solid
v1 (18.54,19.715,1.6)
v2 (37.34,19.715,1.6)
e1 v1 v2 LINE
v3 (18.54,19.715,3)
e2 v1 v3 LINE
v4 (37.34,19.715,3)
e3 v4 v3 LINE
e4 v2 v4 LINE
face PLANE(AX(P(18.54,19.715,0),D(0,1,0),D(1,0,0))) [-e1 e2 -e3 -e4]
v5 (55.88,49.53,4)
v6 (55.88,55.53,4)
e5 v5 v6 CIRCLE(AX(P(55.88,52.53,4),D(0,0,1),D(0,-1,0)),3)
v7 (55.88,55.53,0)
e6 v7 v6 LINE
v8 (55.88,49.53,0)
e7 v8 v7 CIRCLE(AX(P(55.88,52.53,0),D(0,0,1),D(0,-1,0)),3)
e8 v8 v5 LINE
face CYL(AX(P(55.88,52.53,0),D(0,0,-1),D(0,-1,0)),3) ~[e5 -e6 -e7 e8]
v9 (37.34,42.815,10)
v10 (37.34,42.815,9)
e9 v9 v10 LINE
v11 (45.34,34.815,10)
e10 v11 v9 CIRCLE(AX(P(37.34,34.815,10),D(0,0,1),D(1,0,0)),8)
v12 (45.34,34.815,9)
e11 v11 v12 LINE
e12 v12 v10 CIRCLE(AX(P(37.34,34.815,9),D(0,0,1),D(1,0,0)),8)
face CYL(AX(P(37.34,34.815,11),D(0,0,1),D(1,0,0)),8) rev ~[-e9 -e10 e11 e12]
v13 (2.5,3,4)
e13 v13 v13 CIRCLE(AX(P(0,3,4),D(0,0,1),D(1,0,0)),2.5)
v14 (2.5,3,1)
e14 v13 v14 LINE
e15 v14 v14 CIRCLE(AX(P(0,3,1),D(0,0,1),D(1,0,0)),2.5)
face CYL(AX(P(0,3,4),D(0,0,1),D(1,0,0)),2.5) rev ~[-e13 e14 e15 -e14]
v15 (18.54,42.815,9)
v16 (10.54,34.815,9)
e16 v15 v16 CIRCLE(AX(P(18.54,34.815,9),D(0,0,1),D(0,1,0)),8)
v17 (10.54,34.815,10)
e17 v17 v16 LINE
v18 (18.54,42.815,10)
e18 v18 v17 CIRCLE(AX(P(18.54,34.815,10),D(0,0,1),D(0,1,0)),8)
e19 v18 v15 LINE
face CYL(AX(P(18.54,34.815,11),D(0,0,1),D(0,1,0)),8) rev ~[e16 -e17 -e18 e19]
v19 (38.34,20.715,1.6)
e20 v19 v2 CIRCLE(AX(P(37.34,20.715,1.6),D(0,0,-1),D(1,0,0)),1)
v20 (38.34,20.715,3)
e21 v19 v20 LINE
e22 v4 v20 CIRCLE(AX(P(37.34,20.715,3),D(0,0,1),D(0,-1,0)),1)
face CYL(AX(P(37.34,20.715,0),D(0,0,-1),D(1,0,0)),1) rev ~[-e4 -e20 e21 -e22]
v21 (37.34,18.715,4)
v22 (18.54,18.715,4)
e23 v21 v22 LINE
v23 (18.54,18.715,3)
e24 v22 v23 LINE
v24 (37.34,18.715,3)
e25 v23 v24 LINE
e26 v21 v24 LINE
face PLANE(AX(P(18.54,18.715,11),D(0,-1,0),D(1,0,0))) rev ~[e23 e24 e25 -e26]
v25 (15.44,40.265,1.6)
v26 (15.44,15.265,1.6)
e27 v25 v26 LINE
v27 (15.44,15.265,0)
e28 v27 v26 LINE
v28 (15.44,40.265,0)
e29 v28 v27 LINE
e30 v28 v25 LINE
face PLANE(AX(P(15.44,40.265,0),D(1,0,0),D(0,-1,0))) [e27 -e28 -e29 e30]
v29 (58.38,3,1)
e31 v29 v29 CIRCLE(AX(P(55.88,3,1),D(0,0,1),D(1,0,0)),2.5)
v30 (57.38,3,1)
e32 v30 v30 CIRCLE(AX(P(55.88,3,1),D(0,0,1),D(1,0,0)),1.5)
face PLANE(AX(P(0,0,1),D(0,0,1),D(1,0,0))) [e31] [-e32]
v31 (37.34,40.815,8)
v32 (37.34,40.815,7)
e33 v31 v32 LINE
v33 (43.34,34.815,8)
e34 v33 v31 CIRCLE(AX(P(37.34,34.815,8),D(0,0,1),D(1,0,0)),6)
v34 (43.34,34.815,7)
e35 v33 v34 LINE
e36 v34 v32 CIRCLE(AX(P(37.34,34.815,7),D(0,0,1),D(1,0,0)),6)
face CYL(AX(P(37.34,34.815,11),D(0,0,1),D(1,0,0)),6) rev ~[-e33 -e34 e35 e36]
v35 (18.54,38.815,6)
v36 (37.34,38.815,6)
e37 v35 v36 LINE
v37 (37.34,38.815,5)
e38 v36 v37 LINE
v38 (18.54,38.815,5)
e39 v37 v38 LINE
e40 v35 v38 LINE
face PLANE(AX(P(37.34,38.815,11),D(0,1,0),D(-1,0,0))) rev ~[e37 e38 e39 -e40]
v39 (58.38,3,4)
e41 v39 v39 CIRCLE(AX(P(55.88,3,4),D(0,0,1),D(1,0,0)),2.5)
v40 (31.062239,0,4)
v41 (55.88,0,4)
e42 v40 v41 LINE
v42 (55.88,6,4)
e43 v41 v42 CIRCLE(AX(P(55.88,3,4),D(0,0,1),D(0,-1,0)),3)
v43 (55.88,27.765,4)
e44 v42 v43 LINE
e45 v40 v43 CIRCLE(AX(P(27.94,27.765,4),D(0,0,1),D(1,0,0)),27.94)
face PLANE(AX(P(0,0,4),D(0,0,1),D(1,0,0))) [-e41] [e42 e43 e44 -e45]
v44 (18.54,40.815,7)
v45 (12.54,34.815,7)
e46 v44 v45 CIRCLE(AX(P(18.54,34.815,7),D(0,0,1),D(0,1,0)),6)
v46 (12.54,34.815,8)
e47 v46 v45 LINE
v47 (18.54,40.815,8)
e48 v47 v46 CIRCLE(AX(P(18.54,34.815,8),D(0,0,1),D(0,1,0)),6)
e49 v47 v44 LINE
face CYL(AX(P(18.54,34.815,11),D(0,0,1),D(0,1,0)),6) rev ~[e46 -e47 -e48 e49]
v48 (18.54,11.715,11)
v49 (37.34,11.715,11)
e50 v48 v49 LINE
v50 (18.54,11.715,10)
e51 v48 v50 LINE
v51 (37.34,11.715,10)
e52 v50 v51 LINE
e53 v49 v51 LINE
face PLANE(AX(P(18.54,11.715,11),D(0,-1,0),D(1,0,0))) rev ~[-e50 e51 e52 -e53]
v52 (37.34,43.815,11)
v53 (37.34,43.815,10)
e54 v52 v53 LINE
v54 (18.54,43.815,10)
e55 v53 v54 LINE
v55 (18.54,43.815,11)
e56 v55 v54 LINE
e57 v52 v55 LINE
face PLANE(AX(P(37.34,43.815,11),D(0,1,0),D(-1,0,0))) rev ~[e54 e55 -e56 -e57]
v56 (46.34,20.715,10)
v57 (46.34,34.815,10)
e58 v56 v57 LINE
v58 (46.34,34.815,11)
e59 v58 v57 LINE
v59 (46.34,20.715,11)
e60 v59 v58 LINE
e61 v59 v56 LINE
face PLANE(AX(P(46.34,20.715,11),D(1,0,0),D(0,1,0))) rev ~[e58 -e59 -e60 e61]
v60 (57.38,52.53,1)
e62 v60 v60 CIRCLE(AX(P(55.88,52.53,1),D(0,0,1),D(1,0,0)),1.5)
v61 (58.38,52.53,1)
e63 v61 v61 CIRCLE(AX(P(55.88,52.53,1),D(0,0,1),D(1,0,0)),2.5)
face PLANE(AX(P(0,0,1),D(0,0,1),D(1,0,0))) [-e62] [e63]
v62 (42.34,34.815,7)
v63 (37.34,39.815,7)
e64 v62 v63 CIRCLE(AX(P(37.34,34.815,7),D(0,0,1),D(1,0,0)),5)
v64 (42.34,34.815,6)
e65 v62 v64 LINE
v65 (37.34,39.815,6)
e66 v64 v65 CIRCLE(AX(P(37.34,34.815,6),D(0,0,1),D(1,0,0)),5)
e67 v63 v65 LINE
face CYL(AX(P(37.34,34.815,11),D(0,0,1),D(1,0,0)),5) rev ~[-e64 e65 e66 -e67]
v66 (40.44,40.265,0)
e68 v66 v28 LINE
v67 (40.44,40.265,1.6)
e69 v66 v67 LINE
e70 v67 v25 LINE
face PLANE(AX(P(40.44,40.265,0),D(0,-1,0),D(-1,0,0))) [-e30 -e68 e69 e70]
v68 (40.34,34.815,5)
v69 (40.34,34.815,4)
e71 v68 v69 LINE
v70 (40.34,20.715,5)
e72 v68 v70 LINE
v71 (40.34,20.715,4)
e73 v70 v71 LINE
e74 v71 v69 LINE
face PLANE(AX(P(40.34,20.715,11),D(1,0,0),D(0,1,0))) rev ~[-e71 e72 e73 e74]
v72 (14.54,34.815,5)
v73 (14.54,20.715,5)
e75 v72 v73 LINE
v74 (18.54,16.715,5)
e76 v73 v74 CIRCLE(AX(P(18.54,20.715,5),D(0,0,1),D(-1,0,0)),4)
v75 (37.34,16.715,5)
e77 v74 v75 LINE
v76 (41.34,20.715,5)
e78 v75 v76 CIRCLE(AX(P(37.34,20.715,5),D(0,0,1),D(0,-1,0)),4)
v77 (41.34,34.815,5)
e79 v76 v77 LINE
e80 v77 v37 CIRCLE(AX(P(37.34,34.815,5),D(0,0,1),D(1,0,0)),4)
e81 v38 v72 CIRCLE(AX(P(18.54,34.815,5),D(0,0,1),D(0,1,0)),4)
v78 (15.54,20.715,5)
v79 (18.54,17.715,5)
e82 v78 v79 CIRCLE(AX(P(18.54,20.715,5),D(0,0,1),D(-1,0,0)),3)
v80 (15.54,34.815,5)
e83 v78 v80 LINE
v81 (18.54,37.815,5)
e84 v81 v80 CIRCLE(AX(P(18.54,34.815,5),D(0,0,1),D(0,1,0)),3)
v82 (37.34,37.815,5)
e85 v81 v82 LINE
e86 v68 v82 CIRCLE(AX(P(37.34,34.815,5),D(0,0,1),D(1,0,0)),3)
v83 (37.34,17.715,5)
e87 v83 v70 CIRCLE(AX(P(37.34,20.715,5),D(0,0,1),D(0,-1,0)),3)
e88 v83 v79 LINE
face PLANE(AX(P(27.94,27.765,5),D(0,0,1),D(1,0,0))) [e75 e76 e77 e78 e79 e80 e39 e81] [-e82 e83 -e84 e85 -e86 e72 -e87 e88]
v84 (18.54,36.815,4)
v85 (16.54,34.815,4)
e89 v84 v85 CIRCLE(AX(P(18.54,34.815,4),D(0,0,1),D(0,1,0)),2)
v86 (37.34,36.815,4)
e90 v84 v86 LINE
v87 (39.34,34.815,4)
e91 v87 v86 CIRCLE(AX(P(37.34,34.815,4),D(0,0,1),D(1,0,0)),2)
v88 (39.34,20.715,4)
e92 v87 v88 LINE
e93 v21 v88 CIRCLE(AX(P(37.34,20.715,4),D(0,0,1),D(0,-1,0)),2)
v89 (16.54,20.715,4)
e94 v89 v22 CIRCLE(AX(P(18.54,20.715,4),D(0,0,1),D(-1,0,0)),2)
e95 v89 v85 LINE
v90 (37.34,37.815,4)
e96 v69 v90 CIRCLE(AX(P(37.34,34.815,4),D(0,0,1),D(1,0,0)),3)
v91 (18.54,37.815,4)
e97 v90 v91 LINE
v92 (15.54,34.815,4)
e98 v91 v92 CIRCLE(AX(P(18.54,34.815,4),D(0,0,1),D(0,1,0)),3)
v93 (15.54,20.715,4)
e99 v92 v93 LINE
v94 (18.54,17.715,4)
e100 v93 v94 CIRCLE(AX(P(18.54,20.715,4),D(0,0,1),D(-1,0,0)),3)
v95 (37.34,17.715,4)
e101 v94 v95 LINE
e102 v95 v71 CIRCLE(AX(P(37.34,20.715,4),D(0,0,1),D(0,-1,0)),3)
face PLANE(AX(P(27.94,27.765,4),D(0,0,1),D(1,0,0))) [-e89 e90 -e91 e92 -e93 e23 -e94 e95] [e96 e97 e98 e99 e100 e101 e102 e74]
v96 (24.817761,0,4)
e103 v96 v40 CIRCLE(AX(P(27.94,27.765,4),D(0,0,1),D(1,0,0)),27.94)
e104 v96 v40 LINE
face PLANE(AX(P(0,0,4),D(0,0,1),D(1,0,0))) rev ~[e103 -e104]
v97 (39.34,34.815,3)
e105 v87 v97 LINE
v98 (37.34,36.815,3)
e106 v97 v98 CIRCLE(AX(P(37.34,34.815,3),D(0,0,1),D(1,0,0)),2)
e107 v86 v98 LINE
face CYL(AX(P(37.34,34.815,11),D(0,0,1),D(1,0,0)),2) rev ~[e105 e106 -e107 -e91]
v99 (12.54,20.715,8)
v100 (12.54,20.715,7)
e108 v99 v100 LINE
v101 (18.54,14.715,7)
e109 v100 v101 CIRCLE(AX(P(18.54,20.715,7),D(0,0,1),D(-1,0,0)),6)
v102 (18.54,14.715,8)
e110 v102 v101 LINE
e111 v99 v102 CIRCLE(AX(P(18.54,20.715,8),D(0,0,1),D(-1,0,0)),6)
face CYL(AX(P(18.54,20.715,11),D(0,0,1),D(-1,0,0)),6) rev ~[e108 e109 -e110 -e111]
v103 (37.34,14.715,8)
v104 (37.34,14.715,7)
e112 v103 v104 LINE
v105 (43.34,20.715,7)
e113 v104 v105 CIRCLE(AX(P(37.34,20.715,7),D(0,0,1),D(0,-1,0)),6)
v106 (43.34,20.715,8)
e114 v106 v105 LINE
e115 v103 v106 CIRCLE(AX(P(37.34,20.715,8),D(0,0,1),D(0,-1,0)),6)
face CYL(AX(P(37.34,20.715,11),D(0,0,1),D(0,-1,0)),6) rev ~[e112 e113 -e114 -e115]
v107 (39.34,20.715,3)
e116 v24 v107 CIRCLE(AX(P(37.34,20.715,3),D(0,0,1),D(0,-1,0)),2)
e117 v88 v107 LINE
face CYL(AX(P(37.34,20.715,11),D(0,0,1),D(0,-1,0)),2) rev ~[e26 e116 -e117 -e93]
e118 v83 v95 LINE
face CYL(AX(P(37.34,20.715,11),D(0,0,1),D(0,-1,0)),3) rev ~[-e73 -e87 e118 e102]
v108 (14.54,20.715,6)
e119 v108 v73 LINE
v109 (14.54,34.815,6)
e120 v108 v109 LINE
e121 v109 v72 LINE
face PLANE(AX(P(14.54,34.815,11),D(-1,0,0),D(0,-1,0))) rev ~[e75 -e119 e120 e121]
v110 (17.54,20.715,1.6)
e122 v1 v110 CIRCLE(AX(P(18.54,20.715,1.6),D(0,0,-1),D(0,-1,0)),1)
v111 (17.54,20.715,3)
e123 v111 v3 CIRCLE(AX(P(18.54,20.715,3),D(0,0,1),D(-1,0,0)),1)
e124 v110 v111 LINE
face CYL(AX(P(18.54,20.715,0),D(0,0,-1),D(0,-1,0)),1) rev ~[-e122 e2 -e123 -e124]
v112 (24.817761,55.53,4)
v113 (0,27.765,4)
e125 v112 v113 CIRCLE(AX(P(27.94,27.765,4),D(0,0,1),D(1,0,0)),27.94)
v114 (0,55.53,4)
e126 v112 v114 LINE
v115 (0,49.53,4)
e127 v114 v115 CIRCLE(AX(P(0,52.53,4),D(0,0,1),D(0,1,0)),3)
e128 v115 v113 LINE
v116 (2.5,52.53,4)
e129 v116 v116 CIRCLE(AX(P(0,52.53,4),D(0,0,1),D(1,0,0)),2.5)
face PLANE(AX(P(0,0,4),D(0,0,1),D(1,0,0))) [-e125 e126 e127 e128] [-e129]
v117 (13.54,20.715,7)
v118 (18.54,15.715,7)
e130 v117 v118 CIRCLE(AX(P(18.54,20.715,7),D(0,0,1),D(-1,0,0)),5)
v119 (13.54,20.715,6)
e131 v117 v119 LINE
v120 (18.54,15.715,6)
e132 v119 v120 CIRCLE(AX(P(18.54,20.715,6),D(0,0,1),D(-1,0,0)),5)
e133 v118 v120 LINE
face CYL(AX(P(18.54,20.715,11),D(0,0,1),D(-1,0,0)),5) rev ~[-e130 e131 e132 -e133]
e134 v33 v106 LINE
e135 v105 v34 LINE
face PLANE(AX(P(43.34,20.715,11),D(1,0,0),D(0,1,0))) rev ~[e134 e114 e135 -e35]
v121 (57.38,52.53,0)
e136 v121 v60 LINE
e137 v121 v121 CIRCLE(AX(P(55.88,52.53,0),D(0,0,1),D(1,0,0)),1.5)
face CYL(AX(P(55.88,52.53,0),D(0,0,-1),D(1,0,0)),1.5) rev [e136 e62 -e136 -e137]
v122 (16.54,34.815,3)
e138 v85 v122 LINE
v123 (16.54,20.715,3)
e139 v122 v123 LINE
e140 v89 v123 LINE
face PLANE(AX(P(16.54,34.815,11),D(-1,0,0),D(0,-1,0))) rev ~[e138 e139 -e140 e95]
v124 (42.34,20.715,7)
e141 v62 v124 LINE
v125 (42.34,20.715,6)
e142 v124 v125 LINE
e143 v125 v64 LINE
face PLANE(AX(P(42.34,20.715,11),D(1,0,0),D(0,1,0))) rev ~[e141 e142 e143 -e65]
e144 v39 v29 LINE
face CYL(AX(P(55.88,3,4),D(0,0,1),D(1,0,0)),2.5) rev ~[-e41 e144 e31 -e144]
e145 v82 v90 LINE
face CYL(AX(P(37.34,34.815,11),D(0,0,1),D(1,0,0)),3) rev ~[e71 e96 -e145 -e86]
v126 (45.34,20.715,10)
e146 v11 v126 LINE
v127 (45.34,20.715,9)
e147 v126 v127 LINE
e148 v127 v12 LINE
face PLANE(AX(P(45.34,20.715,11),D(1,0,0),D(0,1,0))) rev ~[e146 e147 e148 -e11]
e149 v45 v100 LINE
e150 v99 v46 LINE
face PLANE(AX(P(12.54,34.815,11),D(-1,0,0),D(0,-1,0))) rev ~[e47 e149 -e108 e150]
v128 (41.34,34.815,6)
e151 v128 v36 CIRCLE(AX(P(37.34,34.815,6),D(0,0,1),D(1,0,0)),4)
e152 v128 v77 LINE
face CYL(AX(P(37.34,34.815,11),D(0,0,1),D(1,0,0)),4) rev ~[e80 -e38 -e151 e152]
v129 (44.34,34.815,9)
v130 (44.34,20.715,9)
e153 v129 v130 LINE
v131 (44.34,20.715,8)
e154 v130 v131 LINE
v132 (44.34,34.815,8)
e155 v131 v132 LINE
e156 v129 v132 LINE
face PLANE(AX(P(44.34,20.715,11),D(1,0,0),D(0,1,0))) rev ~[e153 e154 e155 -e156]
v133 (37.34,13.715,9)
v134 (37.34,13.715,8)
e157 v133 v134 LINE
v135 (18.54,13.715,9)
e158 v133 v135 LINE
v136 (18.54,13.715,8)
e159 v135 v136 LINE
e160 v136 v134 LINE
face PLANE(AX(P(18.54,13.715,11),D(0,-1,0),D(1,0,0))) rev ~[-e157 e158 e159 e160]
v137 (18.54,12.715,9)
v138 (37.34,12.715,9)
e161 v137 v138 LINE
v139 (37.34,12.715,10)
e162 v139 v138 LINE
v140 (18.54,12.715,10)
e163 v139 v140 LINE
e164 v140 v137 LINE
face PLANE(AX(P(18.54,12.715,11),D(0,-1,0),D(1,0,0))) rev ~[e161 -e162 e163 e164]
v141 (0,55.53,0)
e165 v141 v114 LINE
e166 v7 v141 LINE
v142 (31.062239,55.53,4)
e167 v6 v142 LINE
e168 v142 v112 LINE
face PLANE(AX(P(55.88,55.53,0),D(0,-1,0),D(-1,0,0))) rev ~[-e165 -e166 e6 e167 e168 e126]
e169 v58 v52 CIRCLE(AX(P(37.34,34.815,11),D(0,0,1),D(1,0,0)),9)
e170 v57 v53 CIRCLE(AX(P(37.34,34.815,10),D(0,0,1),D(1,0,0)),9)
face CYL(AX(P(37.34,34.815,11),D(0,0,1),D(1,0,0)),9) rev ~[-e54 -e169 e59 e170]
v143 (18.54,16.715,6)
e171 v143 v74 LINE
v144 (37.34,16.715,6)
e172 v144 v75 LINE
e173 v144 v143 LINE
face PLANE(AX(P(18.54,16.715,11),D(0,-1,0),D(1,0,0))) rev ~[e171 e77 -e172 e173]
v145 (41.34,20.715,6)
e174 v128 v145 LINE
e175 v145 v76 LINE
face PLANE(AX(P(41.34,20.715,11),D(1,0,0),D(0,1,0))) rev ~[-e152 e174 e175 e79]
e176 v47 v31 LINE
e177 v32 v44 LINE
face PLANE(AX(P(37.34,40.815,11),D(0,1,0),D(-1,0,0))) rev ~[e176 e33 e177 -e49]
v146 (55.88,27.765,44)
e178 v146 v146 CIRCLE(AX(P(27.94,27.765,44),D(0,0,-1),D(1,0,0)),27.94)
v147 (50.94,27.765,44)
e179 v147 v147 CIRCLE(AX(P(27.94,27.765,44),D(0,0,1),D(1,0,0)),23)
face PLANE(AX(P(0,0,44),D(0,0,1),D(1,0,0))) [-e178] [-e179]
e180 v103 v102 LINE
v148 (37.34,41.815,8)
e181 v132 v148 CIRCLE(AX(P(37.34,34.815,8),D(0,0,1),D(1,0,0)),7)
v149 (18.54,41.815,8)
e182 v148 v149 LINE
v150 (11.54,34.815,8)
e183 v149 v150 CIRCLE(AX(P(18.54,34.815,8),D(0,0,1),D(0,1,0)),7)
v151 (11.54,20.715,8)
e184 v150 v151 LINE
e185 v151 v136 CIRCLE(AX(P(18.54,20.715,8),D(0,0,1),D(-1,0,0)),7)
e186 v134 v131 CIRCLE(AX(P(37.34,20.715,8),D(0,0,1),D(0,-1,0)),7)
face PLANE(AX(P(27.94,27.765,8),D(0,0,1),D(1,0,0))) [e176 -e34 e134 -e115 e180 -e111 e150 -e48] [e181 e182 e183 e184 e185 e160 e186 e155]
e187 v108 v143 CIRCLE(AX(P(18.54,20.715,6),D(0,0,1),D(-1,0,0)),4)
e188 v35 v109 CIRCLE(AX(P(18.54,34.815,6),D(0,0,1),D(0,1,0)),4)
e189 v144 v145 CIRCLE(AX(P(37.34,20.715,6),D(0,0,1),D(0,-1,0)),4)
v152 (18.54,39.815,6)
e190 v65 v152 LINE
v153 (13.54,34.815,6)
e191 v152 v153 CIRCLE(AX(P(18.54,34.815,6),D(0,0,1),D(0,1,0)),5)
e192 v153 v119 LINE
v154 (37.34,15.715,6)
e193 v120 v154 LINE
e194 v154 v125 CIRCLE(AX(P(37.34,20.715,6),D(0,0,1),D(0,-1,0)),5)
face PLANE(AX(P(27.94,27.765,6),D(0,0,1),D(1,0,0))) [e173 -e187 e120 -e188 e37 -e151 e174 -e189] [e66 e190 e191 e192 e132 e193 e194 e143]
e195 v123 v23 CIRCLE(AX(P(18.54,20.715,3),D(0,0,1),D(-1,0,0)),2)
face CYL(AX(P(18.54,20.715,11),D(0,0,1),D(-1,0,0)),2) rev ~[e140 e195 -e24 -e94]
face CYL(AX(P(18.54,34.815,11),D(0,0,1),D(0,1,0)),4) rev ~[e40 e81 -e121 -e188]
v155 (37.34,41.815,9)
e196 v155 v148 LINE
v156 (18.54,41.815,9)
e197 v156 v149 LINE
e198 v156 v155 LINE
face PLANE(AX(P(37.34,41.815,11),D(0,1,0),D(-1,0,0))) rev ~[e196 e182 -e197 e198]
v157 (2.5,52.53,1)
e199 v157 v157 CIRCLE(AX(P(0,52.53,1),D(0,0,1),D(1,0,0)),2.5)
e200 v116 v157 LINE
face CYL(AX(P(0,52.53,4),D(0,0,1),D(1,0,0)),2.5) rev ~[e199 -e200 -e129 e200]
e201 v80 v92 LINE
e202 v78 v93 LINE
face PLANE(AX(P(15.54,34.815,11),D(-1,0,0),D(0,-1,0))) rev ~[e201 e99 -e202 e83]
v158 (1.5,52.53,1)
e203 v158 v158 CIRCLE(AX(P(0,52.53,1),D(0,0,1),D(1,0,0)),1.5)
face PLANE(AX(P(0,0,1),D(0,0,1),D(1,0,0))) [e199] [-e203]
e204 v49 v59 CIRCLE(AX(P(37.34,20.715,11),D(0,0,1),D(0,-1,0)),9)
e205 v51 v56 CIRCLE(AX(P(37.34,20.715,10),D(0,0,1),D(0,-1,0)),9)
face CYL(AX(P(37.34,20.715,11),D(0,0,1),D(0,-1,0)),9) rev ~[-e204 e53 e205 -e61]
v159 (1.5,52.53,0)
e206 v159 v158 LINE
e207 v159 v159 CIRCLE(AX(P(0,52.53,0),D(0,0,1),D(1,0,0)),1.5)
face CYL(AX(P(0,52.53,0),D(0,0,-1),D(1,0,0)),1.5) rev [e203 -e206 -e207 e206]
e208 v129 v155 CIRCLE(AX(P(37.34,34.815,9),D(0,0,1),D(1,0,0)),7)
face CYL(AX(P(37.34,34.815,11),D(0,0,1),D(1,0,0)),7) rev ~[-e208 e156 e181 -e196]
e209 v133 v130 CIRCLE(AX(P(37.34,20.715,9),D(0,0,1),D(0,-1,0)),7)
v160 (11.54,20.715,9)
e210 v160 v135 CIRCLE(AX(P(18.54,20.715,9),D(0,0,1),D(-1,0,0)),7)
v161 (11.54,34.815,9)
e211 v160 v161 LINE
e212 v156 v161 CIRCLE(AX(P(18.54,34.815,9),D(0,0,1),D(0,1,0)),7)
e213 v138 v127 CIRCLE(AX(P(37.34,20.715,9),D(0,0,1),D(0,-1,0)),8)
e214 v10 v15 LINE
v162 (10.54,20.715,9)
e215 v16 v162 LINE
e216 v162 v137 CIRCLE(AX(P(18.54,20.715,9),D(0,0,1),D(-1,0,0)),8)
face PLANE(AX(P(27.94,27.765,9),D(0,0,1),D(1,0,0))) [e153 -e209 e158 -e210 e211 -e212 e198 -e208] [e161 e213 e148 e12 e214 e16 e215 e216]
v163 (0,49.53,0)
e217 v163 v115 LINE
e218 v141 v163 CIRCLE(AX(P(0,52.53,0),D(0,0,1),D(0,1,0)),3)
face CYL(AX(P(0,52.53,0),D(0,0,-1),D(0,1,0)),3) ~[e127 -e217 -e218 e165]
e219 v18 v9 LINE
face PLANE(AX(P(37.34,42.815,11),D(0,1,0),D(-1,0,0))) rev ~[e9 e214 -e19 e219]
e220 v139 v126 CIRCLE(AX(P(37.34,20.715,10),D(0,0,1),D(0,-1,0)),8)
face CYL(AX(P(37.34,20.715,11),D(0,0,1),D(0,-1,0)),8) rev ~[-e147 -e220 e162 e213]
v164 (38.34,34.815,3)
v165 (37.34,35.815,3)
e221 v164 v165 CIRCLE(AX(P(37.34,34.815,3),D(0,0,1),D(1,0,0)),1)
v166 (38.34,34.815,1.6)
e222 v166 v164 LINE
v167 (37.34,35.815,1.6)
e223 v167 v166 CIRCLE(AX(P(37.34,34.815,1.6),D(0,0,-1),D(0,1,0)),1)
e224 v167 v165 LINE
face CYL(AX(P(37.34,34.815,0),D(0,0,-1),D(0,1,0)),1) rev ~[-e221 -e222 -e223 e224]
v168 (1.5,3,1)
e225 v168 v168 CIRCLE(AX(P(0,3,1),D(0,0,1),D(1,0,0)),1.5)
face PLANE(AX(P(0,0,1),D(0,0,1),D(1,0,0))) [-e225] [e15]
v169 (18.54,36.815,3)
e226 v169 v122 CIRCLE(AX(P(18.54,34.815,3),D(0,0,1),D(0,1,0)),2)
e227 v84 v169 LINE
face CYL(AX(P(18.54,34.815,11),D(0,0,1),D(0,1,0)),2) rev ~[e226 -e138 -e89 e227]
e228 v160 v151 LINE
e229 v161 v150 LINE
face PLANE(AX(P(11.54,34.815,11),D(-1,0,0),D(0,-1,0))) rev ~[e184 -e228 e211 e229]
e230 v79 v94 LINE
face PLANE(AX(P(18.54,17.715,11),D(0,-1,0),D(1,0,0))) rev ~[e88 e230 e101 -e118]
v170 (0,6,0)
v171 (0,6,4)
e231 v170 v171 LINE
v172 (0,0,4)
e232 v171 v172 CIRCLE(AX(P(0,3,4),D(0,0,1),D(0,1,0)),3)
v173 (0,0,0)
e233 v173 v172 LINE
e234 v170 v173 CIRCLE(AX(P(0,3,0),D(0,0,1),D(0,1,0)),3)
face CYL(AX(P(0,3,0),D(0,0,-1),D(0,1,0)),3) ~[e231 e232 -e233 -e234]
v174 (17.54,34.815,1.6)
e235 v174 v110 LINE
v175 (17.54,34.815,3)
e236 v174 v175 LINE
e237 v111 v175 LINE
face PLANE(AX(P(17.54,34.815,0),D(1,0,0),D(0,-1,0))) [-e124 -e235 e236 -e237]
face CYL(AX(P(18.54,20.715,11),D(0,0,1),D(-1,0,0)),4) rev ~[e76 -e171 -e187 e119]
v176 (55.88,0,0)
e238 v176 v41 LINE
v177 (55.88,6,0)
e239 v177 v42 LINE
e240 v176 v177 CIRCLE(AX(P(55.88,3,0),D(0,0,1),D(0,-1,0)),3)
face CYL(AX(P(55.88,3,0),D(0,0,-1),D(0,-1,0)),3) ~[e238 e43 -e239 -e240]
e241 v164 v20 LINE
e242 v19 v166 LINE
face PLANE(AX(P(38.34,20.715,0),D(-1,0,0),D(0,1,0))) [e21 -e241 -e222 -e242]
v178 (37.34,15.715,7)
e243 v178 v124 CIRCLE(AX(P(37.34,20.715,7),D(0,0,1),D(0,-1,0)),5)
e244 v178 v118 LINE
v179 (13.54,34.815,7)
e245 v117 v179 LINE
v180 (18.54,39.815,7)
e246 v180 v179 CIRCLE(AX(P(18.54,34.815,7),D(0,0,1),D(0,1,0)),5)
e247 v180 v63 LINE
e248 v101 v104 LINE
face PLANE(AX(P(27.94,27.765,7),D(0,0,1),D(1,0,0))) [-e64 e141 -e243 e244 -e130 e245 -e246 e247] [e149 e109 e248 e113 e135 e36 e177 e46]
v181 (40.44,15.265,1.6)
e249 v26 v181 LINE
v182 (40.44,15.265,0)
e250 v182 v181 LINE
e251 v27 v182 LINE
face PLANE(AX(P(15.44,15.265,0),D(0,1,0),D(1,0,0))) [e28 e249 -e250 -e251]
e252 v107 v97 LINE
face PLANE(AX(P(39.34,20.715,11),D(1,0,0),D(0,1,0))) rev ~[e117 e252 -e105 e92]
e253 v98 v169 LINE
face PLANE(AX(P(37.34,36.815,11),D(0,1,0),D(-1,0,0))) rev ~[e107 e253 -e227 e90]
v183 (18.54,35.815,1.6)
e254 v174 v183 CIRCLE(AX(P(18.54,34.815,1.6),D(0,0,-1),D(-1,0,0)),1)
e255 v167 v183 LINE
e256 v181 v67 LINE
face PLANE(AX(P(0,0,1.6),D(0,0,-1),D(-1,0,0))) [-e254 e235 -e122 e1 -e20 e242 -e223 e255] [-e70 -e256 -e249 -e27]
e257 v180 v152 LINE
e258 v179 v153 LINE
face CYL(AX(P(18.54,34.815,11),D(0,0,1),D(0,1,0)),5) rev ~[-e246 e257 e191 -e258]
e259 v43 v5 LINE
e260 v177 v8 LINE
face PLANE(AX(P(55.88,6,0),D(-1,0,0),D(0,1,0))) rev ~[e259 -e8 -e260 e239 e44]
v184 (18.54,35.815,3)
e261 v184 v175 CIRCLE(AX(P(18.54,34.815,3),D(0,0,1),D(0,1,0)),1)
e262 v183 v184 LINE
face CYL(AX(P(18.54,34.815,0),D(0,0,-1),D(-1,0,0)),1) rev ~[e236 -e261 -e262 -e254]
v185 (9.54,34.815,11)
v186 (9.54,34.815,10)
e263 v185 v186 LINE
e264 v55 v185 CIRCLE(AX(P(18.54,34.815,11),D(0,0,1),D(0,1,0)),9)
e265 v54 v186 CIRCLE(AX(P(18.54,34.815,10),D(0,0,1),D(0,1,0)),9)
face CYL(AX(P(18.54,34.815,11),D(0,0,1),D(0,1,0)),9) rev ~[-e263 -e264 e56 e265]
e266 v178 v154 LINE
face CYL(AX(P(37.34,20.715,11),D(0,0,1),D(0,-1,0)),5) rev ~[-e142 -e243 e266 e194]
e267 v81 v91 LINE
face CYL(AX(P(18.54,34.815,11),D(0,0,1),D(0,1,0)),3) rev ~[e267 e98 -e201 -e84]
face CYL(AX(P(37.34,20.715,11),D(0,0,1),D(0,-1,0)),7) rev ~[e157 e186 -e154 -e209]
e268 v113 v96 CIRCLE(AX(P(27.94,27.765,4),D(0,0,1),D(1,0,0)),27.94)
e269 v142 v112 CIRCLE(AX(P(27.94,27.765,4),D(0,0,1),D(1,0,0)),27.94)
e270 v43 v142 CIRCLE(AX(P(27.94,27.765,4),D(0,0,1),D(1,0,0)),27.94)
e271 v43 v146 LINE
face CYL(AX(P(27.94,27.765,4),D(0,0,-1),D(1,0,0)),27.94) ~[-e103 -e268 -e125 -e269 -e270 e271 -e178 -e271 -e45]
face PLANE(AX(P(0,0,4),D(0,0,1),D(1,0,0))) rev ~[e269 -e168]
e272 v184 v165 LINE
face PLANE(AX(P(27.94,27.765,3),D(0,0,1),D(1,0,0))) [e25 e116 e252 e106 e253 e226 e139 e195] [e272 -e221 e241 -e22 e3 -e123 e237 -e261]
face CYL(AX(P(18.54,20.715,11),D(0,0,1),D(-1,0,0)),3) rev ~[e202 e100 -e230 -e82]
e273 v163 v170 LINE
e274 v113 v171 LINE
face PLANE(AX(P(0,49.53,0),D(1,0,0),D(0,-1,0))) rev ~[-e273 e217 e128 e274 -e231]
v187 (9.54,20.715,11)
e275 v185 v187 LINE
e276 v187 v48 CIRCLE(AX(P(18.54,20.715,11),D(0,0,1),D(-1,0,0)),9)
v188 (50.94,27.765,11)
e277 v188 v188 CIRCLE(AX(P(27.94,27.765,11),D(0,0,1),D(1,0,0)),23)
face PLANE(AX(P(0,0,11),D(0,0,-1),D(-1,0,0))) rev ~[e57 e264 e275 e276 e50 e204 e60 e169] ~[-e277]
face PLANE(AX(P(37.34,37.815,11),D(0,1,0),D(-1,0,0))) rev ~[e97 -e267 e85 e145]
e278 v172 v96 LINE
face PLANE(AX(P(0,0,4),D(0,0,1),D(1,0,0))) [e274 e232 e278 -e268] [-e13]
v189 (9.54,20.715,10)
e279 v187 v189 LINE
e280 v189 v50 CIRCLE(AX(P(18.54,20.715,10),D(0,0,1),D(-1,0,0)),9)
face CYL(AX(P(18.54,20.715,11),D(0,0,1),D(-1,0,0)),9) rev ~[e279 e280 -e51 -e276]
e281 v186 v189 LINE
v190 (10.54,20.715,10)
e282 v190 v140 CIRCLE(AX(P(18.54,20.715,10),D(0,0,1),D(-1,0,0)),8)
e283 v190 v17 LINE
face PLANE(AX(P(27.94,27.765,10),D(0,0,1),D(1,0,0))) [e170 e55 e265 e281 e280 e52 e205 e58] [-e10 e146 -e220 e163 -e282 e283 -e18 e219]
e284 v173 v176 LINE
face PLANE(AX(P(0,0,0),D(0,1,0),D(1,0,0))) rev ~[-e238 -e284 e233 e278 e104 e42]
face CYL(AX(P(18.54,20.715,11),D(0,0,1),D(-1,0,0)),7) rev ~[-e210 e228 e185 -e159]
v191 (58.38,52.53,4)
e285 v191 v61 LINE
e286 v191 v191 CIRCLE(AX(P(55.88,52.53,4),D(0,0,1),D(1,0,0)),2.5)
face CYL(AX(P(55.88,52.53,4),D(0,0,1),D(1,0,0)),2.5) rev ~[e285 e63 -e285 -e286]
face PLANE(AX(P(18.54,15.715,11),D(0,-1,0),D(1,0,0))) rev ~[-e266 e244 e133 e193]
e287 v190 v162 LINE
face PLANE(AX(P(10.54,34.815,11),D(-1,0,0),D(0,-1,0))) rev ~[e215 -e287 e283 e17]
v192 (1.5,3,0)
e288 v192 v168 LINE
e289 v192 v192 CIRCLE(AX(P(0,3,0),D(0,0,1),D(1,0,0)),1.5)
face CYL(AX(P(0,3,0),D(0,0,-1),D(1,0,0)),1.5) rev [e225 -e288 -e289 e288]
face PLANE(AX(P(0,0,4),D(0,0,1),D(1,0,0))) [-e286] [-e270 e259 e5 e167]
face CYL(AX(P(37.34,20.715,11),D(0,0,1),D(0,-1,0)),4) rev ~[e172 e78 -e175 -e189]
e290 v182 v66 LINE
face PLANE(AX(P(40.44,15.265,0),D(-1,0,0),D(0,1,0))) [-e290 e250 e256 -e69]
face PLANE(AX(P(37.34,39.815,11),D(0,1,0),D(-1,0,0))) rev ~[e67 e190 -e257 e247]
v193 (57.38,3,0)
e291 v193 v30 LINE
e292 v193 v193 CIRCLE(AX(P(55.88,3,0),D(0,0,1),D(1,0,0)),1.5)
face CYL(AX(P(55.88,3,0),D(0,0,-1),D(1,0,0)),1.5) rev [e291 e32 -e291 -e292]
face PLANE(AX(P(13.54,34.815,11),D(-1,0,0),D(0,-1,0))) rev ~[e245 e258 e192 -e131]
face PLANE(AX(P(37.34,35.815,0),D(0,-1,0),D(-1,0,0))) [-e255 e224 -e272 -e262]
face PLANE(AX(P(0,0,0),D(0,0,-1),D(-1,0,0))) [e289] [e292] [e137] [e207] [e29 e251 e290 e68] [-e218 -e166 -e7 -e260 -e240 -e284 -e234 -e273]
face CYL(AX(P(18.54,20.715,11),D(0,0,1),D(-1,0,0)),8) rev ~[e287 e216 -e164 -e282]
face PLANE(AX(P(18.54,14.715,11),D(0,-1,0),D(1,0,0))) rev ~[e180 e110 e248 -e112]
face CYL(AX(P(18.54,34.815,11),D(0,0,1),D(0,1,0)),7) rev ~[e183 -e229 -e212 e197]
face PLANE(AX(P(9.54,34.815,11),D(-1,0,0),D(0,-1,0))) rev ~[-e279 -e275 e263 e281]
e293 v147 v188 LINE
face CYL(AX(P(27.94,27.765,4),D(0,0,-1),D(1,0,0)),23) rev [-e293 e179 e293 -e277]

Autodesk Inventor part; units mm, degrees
ref_plane "YZ Plane" through (0, 0, 0) normal (1, 0, 0) x (0, 1, 0)
ref_plane "XZ Plane" through (0, 0, 0) normal (0, 1, 0) x (-1, 0, 0)
ref_plane "XY Plane" through (0, 0, 0) normal (0, 0, 1) x (1, 0, 0)
sketch "Sketch1" plane through (0, 0, 0) normal (0, 0, 1) x (1, 0, 0)
  line L0 (55.88, 55.53) -> (0, 55.53)
  circle A0 centre (0, 3) radius 1.5
  arc A1 (0, 6) -> (0, 0) centre (0, 3) ccw
  circle A2 centre (0, 52.53) radius 1.5
  arc A3 (0, 55.53) -> (0, 49.53) centre (0, 52.53) ccw
  line L1 (27.94, 5) -> (27.94, 55.53) construction
  circle A4 centre (55.88, 3) radius 1.5
  arc A5 (55.88, 0) -> (55.88, 6) centre (55.88, 3) ccw
  circle A6 centre (55.88, 52.53) radius 1.5
  arc A7 (55.88, 49.53) -> (55.88, 55.53) centre (55.88, 52.53) ccw
  line L2 (55.88, 6) -> (55.88, 49.53)
  line L3 (55.88, 55.53) -> (55.88, 55.53)
  line L4 (0, 55.53) -> (0, 55.53)
  line L5 (0, 49.53) -> (0, 6)
  line L6 (52.88, 53.53) -> (3, 53.53)
  line L7 (0, 0) -> (0, 6) construction
  line L8 (55.88, 0) -> (55.88, 6) construction
  line L9 (0, 0) -> (0, 0)
  line L10 (0, 0) -> (55.88, 0)
  line L11 (55.88, 0) -> (55.88, 0)
  line L12 (50.88, 56.34) -> (5, 56.34) construction
  line L13 (3, 3) -> (52.88, 3)
  line L14 (3, 53.53) -> (3, 3)
  line L15 (52.88, 3) -> (52.88, 53.53)
  dimension "d0" = 55.88
  dimension "d2" = 3
  dimension "d3" = 6
  dimension "d4" = 3
  dimension "d5" = 6
  dimension "d6" = 49.53
  dimension "d8" = 3
  dimension "d14" = 2
  dimension "d33" = 0.81
  dimension "d78" = 3
  dimension "d79" = 3
  dimension "d214" = 0
  dimension "d215" = 3
  dimension "d216" = 0
extrude "Extrusion1" add sketch "Sketch1" along normal blind 4
sketch "Sketch14" plane through (0, 0, 4) normal (0, 0, 1) x (1, 0, 0)
  line L0 (3, 53.53) -> (52.88, 53.53)
  circle A0 centre (27.94, 27.765) radius 23
  line L1 (27.94, 53.53) -> (27.94, -2.5) construction
  line L2 (49.2166, 63.2696) -> (5.8766, 63.2721) construction
  line L3 (-23.2566, 6.5875) -> (78.3434, 6.5818) construction
  line L4 (-23.2534, 63.2737) -> (-23.2566, 6.5875) construction
  line L5 (78.3434, 6.5818) -> (78.3466, 63.268) construction
  line L6 (52.88, 53.53) -> (52.88, 3) projected
  line L7 (52.88, 3) -> (3, 3) projected
  line L8 (3, 3) -> (3, 53.53) projected
  line L9 (3, 3) -> (3, 53.53)
  line L10 (52.88, 53.53) -> (52.88, 3)
  line L11 (52.88, 3) -> (3, 3)
  point P0 (52.88, -2.5)
  dimension "d96" = 46
extrude "Extrusion14" add sketch "Sketch14" against normal blind 4
sketch "Sketch15" plane through (0, 0, 4) normal (0, 0, 1) x (1, 0, 0)
  circle A0 centre (27.94, 27.765) radius 23 projected
  line L0 (0, 49.53) -> (0, 6) projected
  circle A1 centre (27.94, 27.765) radius 27.94
  circle A2 centre (27.94, 27.765) radius 23
  dimension "d102" = 55.88
  dimension "d103" = 46
extrude "Extrusion15" add sketch "Sketch15" along normal blind 40
sketch "Sketch17" plane through (0, 0, 0) normal (0, 0, -1) x (-1, 0, 0)
  circle A0 centre (-27.94, 27.765) radius 23 construction
  line L0 (-37.34, 35.815) -> (-18.54, 35.815)
  line L1 (-17.54, 34.815) -> (-17.54, 20.715)
  line L2 (-18.54, 19.715) -> (-37.34, 19.715)
  line L3 (-38.34, 20.715) -> (-38.34, 34.815)
  line L4 (-17.54, 35.815) -> (-38.34, 19.715) construction
  line L5 (-17.54, 19.715) -> (-38.34, 35.815) construction
  circle A1 centre (-27.94, 27.765) radius 23
  arc A2 (-37.34, 35.815) -> (-38.34, 34.815) centre (-37.34, 34.815) ccw
  arc A3 (-38.34, 20.715) -> (-37.34, 19.715) centre (-37.34, 20.715) ccw
  arc A4 (-18.54, 19.715) -> (-17.54, 20.715) centre (-18.54, 20.715) ccw
  arc A5 (-17.54, 34.815) -> (-18.54, 35.815) centre (-18.54, 34.815) ccw
  point P0 (0, 0)
  dimension "d111" = 20.8
  dimension "d112" = 16.1
  dimension "d115" = 1
extrude "Extrusion17" add sketch "Sketch17" against normal blind 11
sketch "Sketch18" plane through (27.94, 27.765, 11) normal (0, 0, 1) x (1, 0, 0)
  line L0 (10.4, 7.05) -> (10.4, -7.05) projected
  line L1 (9.4, -8.05) -> (-9.4, -8.05) projected
  line L2 (-10.4, -7.05) -> (-10.4, 7.05) projected
  line L3 (-9.4, 8.05) -> (9.4, 8.05) projected
  arc A0 (10.4, 7.05) -> (9.4, 8.05) centre (9.4, 7.05) ccw projected
  arc A1 (9.4, -8.05) -> (10.4, -7.05) centre (9.4, -7.05) ccw projected
  arc A2 (-10.4, -7.05) -> (-9.4, -8.05) centre (-9.4, -7.05) ccw projected
  arc A3 (-9.4, 8.05) -> (-10.4, 7.05) centre (-9.4, 7.05) ccw projected
  line L4 (9.4, 9.05) -> (-9.4, 9.05)
  arc A4 (-9.4, 9.05) -> (-11.4, 7.05) centre (-9.4, 7.05) ccw
  line L5 (-11.4, 7.05) -> (-11.4, -7.05)
  arc A5 (-11.4, -7.05) -> (-9.4, -9.05) centre (-9.4, -7.05) ccw
  line L6 (-9.4, -9.05) -> (9.4, -9.05)
  arc A6 (9.4, -9.05) -> (11.4, -7.05) centre (9.4, -7.05) ccw
  line L7 (11.4, -7.05) -> (11.4, 7.05)
  arc A7 (11.4, 7.05) -> (9.4, 9.05) centre (9.4, 7.05) ccw
  point P0 (10.4, 8.05)
  point P1 (10.4, -8.05)
  point P2 (-10.4, -8.05)
  point P3 (-10.4, 8.05)
  point P4 (-27.94, -27.765)
  dimension "d116" = 1
extrude "Extrusion18" cut sketch "Sketch18" against normal blind 8
sketch "Sketch19" plane through (27.94, 27.765, 11) normal (0, 0, 1) x (1, 0, 0)
  arc A0 (-9.4, 9.05) -> (-11.4, 7.05) centre (-9.4, 7.05) ccw projected
  line L0 (-9.4, 9.05) -> (9.4, 9.05) projected
  arc A1 (11.4, 7.05) -> (9.4, 9.05) centre (9.4, 7.05) ccw projected
  line L1 (11.4, 7.05) -> (11.4, -7.05) projected
  arc A2 (9.4, -9.05) -> (11.4, -7.05) centre (9.4, -7.05) ccw projected
  line L2 (9.4, -9.05) -> (-9.4, -9.05) projected
  arc A3 (-11.4, -7.05) -> (-9.4, -9.05) centre (-9.4, -7.05) ccw projected
  line L3 (-11.4, -7.05) -> (-11.4, 7.05) projected
  line L4 (9.4, 10.05) -> (-9.4, 10.05)
  arc A4 (-9.4, 10.05) -> (-12.4, 7.05) centre (-9.4, 7.05) ccw
  line L5 (-12.4, 7.05) -> (-12.4, -7.05)
  arc A5 (-12.4, -7.05) -> (-9.4, -10.05) centre (-9.4, -7.05) ccw
  line L6 (-9.4, -10.05) -> (9.4, -10.05)
  arc A6 (9.4, -10.05) -> (12.4, -7.05) centre (9.4, -7.05) ccw
  line L7 (12.4, -7.05) -> (12.4, 7.05)
  arc A7 (12.4, 7.05) -> (9.4, 10.05) centre (9.4, 7.05) ccw
  point P0 (-27.94, -27.765)
  dimension "d119" = 1
extrude "Extrusion19" cut sketch "Sketch19" against normal blind 7
sketch "Sketch20" plane through (27.94, 27.765, 11) normal (0, 0, 1) x (1, 0, 0)
  arc A0 (-9.4, 10.05) -> (-12.4, 7.05) centre (-9.4, 7.05) ccw projected
  line L0 (-9.4, 10.05) -> (9.4, 10.05) projected
  arc A1 (12.4, 7.05) -> (9.4, 10.05) centre (9.4, 7.05) ccw projected
  line L1 (12.4, 7.05) -> (12.4, -7.05) projected
  arc A2 (9.4, -10.05) -> (12.4, -7.05) centre (9.4, -7.05) ccw projected
  line L2 (9.4, -10.05) -> (-9.4, -10.05) projected
  arc A3 (-12.4, -7.05) -> (-9.4, -10.05) centre (-9.4, -7.05) ccw projected
  line L3 (-12.4, -7.05) -> (-12.4, 7.05) projected
  line L4 (9.4, 11.05) -> (-9.4, 11.05)
  arc A4 (-9.4, 11.05) -> (-13.4, 7.05) centre (-9.4, 7.05) ccw
  line L5 (-13.4, 7.05) -> (-13.4, -7.05)
  arc A5 (-13.4, -7.05) -> (-9.4, -11.05) centre (-9.4, -7.05) ccw
  line L6 (-9.4, -11.05) -> (9.4, -11.05)
  arc A6 (9.4, -11.05) -> (13.4, -7.05) centre (9.4, -7.05) ccw
  line L7 (13.4, -7.05) -> (13.4, 7.05)
  arc A7 (13.4, 7.05) -> (9.4, 11.05) centre (9.4, 7.05) ccw
  point P0 (-27.94, -27.765)
  dimension "d122" = 1
extrude "Extrusion20" cut sketch "Sketch20" against normal blind 6
sketch "Sketch21" plane through (27.94, 27.765, 11) normal (0, 0, 1) x (1, 0, 0)
  arc A0 (-9.4, 11.05) -> (-13.4, 7.05) centre (-9.4, 7.05) ccw projected
  line L0 (-9.4, 11.05) -> (9.4, 11.05) projected
  arc A1 (13.4, 7.05) -> (9.4, 11.05) centre (9.4, 7.05) ccw projected
  line L1 (13.4, 7.05) -> (13.4, -7.05) projected
  arc A2 (9.4, -11.05) -> (13.4, -7.05) centre (9.4, -7.05) ccw projected
  line L2 (9.4, -11.05) -> (-9.4, -11.05) projected
  arc A3 (-13.4, -7.05) -> (-9.4, -11.05) centre (-9.4, -7.05) ccw projected
  line L3 (-13.4, -7.05) -> (-13.4, 7.05) projected
  line L4 (9.4, 12.05) -> (-9.4, 12.05)
  arc A4 (-9.4, 12.05) -> (-14.4, 7.05) centre (-9.4, 7.05) ccw
  line L5 (-14.4, 7.05) -> (-14.4, -7.05)
  arc A5 (-14.4, -7.05) -> (-9.4, -12.05) centre (-9.4, -7.05) ccw
  line L6 (-9.4, -12.05) -> (9.4, -12.05)
  arc A6 (9.4, -12.05) -> (14.4, -7.05) centre (9.4, -7.05) ccw
  line L7 (14.4, -7.05) -> (14.4, 7.05)
  arc A7 (14.4, 7.05) -> (9.4, 12.05) centre (9.4, 7.05) ccw
  point P0 (-27.94, -27.765)
  dimension "d125" = 1
extrude "Extrusion21" cut sketch "Sketch21" against normal blind 5
sketch "Sketch22" plane through (27.94, 27.765, 11) normal (0, 0, 1) x (1, 0, 0)
  arc A0 (-9.4, 12.05) -> (-14.4, 7.05) centre (-9.4, 7.05) ccw projected
  line L0 (-9.4, 12.05) -> (9.4, 12.05) projected
  arc A1 (14.4, 7.05) -> (9.4, 12.05) centre (9.4, 7.05) ccw projected
  line L1 (14.4, 7.05) -> (14.4, -7.05) projected
  arc A2 (9.4, -12.05) -> (14.4, -7.05) centre (9.4, -7.05) ccw projected
  line L2 (9.4, -12.05) -> (-9.4, -12.05) projected
  arc A3 (-14.4, -7.05) -> (-9.4, -12.05) centre (-9.4, -7.05) ccw projected
  line L3 (-14.4, -7.05) -> (-14.4, 7.05) projected
  line L4 (9.4, 13.05) -> (-9.4, 13.05)
  arc A4 (-9.4, 13.05) -> (-15.4, 7.05) centre (-9.4, 7.05) ccw
  line L5 (-15.4, 7.05) -> (-15.4, -7.05)
  arc A5 (-15.4, -7.05) -> (-9.4, -13.05) centre (-9.4, -7.05) ccw
  line L6 (-9.4, -13.05) -> (9.4, -13.05)
  arc A6 (9.4, -13.05) -> (15.4, -7.05) centre (9.4, -7.05) ccw
  line L7 (15.4, -7.05) -> (15.4, 7.05)
  arc A7 (15.4, 7.05) -> (9.4, 13.05) centre (9.4, 7.05) ccw
  point P0 (-27.94, -27.765)
  dimension "d128" = 1
extrude "Extrusion22" cut sketch "Sketch22" against normal blind 4
sketch "Sketch23" plane through (27.94, 27.765, 11) normal (0, 0, 1) x (1, 0, 0)
  arc A0 (-9.4, 13.05) -> (-15.4, 7.05) centre (-9.4, 7.05) ccw projected
  line L0 (-9.4, 13.05) -> (9.4, 13.05) projected
  arc A1 (15.4, 7.05) -> (9.4, 13.05) centre (9.4, 7.05) ccw projected
  line L1 (15.4, 7.05) -> (15.4, -7.05) projected
  arc A2 (9.4, -13.05) -> (15.4, -7.05) centre (9.4, -7.05) ccw projected
  line L2 (9.4, -13.05) -> (-9.4, -13.05) projected
  arc A3 (-15.4, -7.05) -> (-9.4, -13.05) centre (-9.4, -7.05) ccw projected
  line L3 (-15.4, -7.05) -> (-15.4, 7.05) projected
  line L4 (9.4, 14.05) -> (-9.4, 14.05)
  arc A4 (-9.4, 14.05) -> (-16.4, 7.05) centre (-9.4, 7.05) ccw
  line L5 (-16.4, 7.05) -> (-16.4, -7.05)
  arc A5 (-16.4, -7.05) -> (-9.4, -14.05) centre (-9.4, -7.05) ccw
  line L6 (-9.4, -14.05) -> (9.4, -14.05)
  arc A6 (9.4, -14.05) -> (16.4, -7.05) centre (9.4, -7.05) ccw
  line L7 (16.4, -7.05) -> (16.4, 7.05)
  arc A7 (16.4, 7.05) -> (9.4, 14.05) centre (9.4, 7.05) ccw
  point P0 (-27.94, -27.765)
  dimension "d131" = 1
extrude "Extrusion23" cut sketch "Sketch23" against normal blind 3
sketch "Sketch24" plane through (27.94, 27.765, 11) normal (0, 0, 1) x (1, 0, 0)
  arc A0 (-9.4, 14.05) -> (-16.4, 7.05) centre (-9.4, 7.05) ccw projected
  line L0 (-9.4, 14.05) -> (9.4, 14.05) projected
  arc A1 (16.4, 7.05) -> (9.4, 14.05) centre (9.4, 7.05) ccw projected
  line L1 (16.4, 7.05) -> (16.4, -7.05) projected
  arc A2 (9.4, -14.05) -> (16.4, -7.05) centre (9.4, -7.05) ccw projected
  line L2 (9.4, -14.05) -> (-9.4, -14.05) projected
  arc A3 (-16.4, -7.05) -> (-9.4, -14.05) centre (-9.4, -7.05) ccw projected
  line L3 (-16.4, -7.05) -> (-16.4, 7.05) projected
  line L4 (9.4, 15.05) -> (-9.4, 15.05)
  arc A4 (-9.4, 15.05) -> (-17.4, 7.05) centre (-9.4, 7.05) ccw
  line L5 (-17.4, 7.05) -> (-17.4, -7.05)
  arc A5 (-17.4, -7.05) -> (-9.4, -15.05) centre (-9.4, -7.05) ccw
  line L6 (-9.4, -15.05) -> (9.4, -15.05)
  arc A6 (9.4, -15.05) -> (17.4, -7.05) centre (9.4, -7.05) ccw
  line L7 (17.4, -7.05) -> (17.4, 7.05)
  arc A7 (17.4, 7.05) -> (9.4, 15.05) centre (9.4, 7.05) ccw
  point P0 (-27.94, -27.765)
  dimension "d134" = 1
extrude "Extrusion24" cut sketch "Sketch24" against normal blind 2
sketch "Sketch25" plane through (27.94, 27.765, 11) normal (0, 0, 1) x (1, 0, 0)
  arc A0 (-9.4, 15.05) -> (-17.4, 7.05) centre (-9.4, 7.05) ccw projected
  line L0 (-9.4, 15.05) -> (9.4, 15.05) projected
  arc A1 (17.4, 7.05) -> (9.4, 15.05) centre (9.4, 7.05) ccw projected
  line L1 (17.4, 7.05) -> (17.4, -7.05) projected
  arc A2 (9.4, -15.05) -> (17.4, -7.05) centre (9.4, -7.05) ccw projected
  line L2 (9.4, -15.05) -> (-9.4, -15.05) projected
  arc A3 (-17.4, -7.05) -> (-9.4, -15.05) centre (-9.4, -7.05) ccw projected
  line L3 (-17.4, -7.05) -> (-17.4, 7.05) projected
  line L4 (9.4, 16.05) -> (-9.4, 16.05)
  arc A4 (-9.4, 16.05) -> (-18.4, 7.05) centre (-9.4, 7.05) ccw
  line L5 (-18.4, 7.05) -> (-18.4, -7.05)
  arc A5 (-18.4, -7.05) -> (-9.4, -16.05) centre (-9.4, -7.05) ccw
  line L6 (-9.4, -16.05) -> (9.4, -16.05)
  arc A6 (9.4, -16.05) -> (18.4, -7.05) centre (9.4, -7.05) ccw
  line L7 (18.4, -7.05) -> (18.4, 7.05)
  arc A7 (18.4, 7.05) -> (9.4, 16.05) centre (9.4, 7.05) ccw
  point P0 (-27.94, -27.765)
  dimension "d137" = 1
extrude "Extrusion25" cut sketch "Sketch25" against normal blind 1
sketch "Sketch31" plane through (0, 0, 4) normal (0, 0, 1) x (1, 0, 0)
  circle A0 centre (0, 3) radius 1.5 projected
  circle A1 centre (55.88, 3) radius 1.5 projected
  circle A2 centre (0, 3) radius 2.5
  circle A3 centre (55.88, 3) radius 2.5
  arc A4 (55.88, 27.765) -> (31.0622, 55.53) centre (27.94, 27.765) ccw projected
  line L0 (55.88, 27.765) -> (55.88, 49.53) projected
  arc A5 (55.88, 49.53) -> (55.88, 55.53) centre (55.88, 52.53) ccw projected
  line L1 (55.88, 55.53) -> (31.0622, 55.53) projected
  arc A6 (0, 55.53) -> (0, 49.53) centre (0, 52.53) ccw projected
  line L2 (0, 49.53) -> (0, 27.765) projected
  circle A7 centre (55.88, 52.53) radius 1.5 projected
  circle A8 centre (0, 52.53) radius 1.5 projected
  circle A9 centre (0, 52.53) radius 2.5
  circle A10 centre (55.88, 52.53) radius 2.5
  line L3 (0, 27.765) -> (0, 6) projected
  arc A11 (0, 6) -> (0, 0) centre (0, 3) ccw projected
  line L4 (0, 0) -> (24.8178, 0) projected
  arc A12 (55.88, 0) -> (55.88, 6) centre (55.88, 3) ccw projected
  line L5 (55.88, 6) -> (55.88, 27.765) projected
  arc A13 (24.8178, 55.53) -> (0, 27.765) centre (27.94, 27.765) ccw projected
  arc A14 (0, 27.765) -> (24.8178, 0) centre (27.94, 27.765) ccw projected
  arc A15 (31.0622, 0) -> (55.88, 27.765) centre (27.94, 27.765) ccw projected
  line L6 (31.0622, 0) -> (55.88, 0) projected
  line L7 (24.8178, 55.53) -> (0, 55.53) projected
  dimension "d172" = 5
  dimension "d174" = 5
  dimension "d175" = 5
  dimension "d176" = 5
extrude "Extrusion31" cut sketch "Sketch31" against normal blind 3 contours A2 | A3 | A9 | A10
sketch "Sketch39" plane through (0, 0, 0) normal (0, 0, -1) x (-1, 0, 0)
  arc A0 (-38.34, 20.715) -> (-37.34, 19.715) centre (-37.34, 20.715) ccw projected
  line L0 (-38.34, 20.715) -> (-38.34, 34.815) projected
  arc A1 (-37.34, 35.815) -> (-38.34, 34.815) centre (-37.34, 34.815) ccw projected
  line L1 (-37.34, 35.815) -> (-18.54, 35.815) projected
  arc A2 (-17.54, 34.815) -> (-18.54, 35.815) centre (-18.54, 34.815) ccw projected
  line L2 (-17.54, 34.815) -> (-17.54, 20.715) projected
  arc A3 (-18.54, 19.715) -> (-17.54, 20.715) centre (-18.54, 20.715) ccw projected
  line L3 (-18.54, 19.715) -> (-37.34, 19.715) projected
  line L4 (-40.44, 40.265) -> (-15.44, 40.265)
  line L5 (-15.44, 40.265) -> (-15.44, 15.265)
  line L6 (-15.44, 15.265) -> (-40.44, 15.265)
  line L7 (-40.44, 15.265) -> (-40.44, 40.265)
  line L8 (-15.44, 40.265) -> (-40.44, 15.265) construction
  line L9 (-40.44, 40.265) -> (-15.44, 15.265) construction
  line L10 (-18.54, 20.715) -> (-37.34, 34.815) construction
  line L11 (-37.34, 20.715) -> (-18.54, 34.815) construction
  point P0 (-27.94, 27.765)
  dimension "d217" = 25
  dimension "d219" = 25
extrude "Extrusion38" cut sketch "Sketch39" against normal blind 1.6
sketch "Sketch40" plane through (0, 0, 1.6) normal (0, 0, -1) x (-1, 0, 0)
  line L0 (-37.34, 19.715) -> (-18.54, 19.715) projected
  arc A0 (-38.34, 20.715) -> (-37.34, 19.715) centre (-37.34, 20.715) ccw projected
  line L1 (-38.34, 34.815) -> (-38.34, 20.715) projected
  arc A1 (-37.34, 35.815) -> (-38.34, 34.815) centre (-37.34, 34.815) ccw projected
  line L2 (-18.54, 35.815) -> (-37.34, 35.815) projected
  arc A2 (-17.54, 34.815) -> (-18.54, 35.815) centre (-18.54, 34.815) ccw projected
  line L3 (-17.54, 20.715) -> (-17.54, 34.815) projected
  arc A3 (-18.54, 19.715) -> (-17.54, 20.715) centre (-18.54, 20.715) ccw projected
  line L4 (-40.44, 40.265) -> (-15.44, 40.265) projected
  line L5 (-40.44, 15.265) -> (-40.44, 40.265) projected
  line L6 (-15.44, 15.265) -> (-40.44, 15.265) projected
  line L7 (-15.44, 40.265) -> (-15.44, 15.265) projected
  line L8 (-15.44, 40.265) -> (-40.44, 15.265) construction
  line L9 (-15.44, 15.265) -> (-40.44, 40.265) construction
  point P0 (0, 0)
  point P1 (-27.94, 27.765)
properties part number "Nikon Mount"
